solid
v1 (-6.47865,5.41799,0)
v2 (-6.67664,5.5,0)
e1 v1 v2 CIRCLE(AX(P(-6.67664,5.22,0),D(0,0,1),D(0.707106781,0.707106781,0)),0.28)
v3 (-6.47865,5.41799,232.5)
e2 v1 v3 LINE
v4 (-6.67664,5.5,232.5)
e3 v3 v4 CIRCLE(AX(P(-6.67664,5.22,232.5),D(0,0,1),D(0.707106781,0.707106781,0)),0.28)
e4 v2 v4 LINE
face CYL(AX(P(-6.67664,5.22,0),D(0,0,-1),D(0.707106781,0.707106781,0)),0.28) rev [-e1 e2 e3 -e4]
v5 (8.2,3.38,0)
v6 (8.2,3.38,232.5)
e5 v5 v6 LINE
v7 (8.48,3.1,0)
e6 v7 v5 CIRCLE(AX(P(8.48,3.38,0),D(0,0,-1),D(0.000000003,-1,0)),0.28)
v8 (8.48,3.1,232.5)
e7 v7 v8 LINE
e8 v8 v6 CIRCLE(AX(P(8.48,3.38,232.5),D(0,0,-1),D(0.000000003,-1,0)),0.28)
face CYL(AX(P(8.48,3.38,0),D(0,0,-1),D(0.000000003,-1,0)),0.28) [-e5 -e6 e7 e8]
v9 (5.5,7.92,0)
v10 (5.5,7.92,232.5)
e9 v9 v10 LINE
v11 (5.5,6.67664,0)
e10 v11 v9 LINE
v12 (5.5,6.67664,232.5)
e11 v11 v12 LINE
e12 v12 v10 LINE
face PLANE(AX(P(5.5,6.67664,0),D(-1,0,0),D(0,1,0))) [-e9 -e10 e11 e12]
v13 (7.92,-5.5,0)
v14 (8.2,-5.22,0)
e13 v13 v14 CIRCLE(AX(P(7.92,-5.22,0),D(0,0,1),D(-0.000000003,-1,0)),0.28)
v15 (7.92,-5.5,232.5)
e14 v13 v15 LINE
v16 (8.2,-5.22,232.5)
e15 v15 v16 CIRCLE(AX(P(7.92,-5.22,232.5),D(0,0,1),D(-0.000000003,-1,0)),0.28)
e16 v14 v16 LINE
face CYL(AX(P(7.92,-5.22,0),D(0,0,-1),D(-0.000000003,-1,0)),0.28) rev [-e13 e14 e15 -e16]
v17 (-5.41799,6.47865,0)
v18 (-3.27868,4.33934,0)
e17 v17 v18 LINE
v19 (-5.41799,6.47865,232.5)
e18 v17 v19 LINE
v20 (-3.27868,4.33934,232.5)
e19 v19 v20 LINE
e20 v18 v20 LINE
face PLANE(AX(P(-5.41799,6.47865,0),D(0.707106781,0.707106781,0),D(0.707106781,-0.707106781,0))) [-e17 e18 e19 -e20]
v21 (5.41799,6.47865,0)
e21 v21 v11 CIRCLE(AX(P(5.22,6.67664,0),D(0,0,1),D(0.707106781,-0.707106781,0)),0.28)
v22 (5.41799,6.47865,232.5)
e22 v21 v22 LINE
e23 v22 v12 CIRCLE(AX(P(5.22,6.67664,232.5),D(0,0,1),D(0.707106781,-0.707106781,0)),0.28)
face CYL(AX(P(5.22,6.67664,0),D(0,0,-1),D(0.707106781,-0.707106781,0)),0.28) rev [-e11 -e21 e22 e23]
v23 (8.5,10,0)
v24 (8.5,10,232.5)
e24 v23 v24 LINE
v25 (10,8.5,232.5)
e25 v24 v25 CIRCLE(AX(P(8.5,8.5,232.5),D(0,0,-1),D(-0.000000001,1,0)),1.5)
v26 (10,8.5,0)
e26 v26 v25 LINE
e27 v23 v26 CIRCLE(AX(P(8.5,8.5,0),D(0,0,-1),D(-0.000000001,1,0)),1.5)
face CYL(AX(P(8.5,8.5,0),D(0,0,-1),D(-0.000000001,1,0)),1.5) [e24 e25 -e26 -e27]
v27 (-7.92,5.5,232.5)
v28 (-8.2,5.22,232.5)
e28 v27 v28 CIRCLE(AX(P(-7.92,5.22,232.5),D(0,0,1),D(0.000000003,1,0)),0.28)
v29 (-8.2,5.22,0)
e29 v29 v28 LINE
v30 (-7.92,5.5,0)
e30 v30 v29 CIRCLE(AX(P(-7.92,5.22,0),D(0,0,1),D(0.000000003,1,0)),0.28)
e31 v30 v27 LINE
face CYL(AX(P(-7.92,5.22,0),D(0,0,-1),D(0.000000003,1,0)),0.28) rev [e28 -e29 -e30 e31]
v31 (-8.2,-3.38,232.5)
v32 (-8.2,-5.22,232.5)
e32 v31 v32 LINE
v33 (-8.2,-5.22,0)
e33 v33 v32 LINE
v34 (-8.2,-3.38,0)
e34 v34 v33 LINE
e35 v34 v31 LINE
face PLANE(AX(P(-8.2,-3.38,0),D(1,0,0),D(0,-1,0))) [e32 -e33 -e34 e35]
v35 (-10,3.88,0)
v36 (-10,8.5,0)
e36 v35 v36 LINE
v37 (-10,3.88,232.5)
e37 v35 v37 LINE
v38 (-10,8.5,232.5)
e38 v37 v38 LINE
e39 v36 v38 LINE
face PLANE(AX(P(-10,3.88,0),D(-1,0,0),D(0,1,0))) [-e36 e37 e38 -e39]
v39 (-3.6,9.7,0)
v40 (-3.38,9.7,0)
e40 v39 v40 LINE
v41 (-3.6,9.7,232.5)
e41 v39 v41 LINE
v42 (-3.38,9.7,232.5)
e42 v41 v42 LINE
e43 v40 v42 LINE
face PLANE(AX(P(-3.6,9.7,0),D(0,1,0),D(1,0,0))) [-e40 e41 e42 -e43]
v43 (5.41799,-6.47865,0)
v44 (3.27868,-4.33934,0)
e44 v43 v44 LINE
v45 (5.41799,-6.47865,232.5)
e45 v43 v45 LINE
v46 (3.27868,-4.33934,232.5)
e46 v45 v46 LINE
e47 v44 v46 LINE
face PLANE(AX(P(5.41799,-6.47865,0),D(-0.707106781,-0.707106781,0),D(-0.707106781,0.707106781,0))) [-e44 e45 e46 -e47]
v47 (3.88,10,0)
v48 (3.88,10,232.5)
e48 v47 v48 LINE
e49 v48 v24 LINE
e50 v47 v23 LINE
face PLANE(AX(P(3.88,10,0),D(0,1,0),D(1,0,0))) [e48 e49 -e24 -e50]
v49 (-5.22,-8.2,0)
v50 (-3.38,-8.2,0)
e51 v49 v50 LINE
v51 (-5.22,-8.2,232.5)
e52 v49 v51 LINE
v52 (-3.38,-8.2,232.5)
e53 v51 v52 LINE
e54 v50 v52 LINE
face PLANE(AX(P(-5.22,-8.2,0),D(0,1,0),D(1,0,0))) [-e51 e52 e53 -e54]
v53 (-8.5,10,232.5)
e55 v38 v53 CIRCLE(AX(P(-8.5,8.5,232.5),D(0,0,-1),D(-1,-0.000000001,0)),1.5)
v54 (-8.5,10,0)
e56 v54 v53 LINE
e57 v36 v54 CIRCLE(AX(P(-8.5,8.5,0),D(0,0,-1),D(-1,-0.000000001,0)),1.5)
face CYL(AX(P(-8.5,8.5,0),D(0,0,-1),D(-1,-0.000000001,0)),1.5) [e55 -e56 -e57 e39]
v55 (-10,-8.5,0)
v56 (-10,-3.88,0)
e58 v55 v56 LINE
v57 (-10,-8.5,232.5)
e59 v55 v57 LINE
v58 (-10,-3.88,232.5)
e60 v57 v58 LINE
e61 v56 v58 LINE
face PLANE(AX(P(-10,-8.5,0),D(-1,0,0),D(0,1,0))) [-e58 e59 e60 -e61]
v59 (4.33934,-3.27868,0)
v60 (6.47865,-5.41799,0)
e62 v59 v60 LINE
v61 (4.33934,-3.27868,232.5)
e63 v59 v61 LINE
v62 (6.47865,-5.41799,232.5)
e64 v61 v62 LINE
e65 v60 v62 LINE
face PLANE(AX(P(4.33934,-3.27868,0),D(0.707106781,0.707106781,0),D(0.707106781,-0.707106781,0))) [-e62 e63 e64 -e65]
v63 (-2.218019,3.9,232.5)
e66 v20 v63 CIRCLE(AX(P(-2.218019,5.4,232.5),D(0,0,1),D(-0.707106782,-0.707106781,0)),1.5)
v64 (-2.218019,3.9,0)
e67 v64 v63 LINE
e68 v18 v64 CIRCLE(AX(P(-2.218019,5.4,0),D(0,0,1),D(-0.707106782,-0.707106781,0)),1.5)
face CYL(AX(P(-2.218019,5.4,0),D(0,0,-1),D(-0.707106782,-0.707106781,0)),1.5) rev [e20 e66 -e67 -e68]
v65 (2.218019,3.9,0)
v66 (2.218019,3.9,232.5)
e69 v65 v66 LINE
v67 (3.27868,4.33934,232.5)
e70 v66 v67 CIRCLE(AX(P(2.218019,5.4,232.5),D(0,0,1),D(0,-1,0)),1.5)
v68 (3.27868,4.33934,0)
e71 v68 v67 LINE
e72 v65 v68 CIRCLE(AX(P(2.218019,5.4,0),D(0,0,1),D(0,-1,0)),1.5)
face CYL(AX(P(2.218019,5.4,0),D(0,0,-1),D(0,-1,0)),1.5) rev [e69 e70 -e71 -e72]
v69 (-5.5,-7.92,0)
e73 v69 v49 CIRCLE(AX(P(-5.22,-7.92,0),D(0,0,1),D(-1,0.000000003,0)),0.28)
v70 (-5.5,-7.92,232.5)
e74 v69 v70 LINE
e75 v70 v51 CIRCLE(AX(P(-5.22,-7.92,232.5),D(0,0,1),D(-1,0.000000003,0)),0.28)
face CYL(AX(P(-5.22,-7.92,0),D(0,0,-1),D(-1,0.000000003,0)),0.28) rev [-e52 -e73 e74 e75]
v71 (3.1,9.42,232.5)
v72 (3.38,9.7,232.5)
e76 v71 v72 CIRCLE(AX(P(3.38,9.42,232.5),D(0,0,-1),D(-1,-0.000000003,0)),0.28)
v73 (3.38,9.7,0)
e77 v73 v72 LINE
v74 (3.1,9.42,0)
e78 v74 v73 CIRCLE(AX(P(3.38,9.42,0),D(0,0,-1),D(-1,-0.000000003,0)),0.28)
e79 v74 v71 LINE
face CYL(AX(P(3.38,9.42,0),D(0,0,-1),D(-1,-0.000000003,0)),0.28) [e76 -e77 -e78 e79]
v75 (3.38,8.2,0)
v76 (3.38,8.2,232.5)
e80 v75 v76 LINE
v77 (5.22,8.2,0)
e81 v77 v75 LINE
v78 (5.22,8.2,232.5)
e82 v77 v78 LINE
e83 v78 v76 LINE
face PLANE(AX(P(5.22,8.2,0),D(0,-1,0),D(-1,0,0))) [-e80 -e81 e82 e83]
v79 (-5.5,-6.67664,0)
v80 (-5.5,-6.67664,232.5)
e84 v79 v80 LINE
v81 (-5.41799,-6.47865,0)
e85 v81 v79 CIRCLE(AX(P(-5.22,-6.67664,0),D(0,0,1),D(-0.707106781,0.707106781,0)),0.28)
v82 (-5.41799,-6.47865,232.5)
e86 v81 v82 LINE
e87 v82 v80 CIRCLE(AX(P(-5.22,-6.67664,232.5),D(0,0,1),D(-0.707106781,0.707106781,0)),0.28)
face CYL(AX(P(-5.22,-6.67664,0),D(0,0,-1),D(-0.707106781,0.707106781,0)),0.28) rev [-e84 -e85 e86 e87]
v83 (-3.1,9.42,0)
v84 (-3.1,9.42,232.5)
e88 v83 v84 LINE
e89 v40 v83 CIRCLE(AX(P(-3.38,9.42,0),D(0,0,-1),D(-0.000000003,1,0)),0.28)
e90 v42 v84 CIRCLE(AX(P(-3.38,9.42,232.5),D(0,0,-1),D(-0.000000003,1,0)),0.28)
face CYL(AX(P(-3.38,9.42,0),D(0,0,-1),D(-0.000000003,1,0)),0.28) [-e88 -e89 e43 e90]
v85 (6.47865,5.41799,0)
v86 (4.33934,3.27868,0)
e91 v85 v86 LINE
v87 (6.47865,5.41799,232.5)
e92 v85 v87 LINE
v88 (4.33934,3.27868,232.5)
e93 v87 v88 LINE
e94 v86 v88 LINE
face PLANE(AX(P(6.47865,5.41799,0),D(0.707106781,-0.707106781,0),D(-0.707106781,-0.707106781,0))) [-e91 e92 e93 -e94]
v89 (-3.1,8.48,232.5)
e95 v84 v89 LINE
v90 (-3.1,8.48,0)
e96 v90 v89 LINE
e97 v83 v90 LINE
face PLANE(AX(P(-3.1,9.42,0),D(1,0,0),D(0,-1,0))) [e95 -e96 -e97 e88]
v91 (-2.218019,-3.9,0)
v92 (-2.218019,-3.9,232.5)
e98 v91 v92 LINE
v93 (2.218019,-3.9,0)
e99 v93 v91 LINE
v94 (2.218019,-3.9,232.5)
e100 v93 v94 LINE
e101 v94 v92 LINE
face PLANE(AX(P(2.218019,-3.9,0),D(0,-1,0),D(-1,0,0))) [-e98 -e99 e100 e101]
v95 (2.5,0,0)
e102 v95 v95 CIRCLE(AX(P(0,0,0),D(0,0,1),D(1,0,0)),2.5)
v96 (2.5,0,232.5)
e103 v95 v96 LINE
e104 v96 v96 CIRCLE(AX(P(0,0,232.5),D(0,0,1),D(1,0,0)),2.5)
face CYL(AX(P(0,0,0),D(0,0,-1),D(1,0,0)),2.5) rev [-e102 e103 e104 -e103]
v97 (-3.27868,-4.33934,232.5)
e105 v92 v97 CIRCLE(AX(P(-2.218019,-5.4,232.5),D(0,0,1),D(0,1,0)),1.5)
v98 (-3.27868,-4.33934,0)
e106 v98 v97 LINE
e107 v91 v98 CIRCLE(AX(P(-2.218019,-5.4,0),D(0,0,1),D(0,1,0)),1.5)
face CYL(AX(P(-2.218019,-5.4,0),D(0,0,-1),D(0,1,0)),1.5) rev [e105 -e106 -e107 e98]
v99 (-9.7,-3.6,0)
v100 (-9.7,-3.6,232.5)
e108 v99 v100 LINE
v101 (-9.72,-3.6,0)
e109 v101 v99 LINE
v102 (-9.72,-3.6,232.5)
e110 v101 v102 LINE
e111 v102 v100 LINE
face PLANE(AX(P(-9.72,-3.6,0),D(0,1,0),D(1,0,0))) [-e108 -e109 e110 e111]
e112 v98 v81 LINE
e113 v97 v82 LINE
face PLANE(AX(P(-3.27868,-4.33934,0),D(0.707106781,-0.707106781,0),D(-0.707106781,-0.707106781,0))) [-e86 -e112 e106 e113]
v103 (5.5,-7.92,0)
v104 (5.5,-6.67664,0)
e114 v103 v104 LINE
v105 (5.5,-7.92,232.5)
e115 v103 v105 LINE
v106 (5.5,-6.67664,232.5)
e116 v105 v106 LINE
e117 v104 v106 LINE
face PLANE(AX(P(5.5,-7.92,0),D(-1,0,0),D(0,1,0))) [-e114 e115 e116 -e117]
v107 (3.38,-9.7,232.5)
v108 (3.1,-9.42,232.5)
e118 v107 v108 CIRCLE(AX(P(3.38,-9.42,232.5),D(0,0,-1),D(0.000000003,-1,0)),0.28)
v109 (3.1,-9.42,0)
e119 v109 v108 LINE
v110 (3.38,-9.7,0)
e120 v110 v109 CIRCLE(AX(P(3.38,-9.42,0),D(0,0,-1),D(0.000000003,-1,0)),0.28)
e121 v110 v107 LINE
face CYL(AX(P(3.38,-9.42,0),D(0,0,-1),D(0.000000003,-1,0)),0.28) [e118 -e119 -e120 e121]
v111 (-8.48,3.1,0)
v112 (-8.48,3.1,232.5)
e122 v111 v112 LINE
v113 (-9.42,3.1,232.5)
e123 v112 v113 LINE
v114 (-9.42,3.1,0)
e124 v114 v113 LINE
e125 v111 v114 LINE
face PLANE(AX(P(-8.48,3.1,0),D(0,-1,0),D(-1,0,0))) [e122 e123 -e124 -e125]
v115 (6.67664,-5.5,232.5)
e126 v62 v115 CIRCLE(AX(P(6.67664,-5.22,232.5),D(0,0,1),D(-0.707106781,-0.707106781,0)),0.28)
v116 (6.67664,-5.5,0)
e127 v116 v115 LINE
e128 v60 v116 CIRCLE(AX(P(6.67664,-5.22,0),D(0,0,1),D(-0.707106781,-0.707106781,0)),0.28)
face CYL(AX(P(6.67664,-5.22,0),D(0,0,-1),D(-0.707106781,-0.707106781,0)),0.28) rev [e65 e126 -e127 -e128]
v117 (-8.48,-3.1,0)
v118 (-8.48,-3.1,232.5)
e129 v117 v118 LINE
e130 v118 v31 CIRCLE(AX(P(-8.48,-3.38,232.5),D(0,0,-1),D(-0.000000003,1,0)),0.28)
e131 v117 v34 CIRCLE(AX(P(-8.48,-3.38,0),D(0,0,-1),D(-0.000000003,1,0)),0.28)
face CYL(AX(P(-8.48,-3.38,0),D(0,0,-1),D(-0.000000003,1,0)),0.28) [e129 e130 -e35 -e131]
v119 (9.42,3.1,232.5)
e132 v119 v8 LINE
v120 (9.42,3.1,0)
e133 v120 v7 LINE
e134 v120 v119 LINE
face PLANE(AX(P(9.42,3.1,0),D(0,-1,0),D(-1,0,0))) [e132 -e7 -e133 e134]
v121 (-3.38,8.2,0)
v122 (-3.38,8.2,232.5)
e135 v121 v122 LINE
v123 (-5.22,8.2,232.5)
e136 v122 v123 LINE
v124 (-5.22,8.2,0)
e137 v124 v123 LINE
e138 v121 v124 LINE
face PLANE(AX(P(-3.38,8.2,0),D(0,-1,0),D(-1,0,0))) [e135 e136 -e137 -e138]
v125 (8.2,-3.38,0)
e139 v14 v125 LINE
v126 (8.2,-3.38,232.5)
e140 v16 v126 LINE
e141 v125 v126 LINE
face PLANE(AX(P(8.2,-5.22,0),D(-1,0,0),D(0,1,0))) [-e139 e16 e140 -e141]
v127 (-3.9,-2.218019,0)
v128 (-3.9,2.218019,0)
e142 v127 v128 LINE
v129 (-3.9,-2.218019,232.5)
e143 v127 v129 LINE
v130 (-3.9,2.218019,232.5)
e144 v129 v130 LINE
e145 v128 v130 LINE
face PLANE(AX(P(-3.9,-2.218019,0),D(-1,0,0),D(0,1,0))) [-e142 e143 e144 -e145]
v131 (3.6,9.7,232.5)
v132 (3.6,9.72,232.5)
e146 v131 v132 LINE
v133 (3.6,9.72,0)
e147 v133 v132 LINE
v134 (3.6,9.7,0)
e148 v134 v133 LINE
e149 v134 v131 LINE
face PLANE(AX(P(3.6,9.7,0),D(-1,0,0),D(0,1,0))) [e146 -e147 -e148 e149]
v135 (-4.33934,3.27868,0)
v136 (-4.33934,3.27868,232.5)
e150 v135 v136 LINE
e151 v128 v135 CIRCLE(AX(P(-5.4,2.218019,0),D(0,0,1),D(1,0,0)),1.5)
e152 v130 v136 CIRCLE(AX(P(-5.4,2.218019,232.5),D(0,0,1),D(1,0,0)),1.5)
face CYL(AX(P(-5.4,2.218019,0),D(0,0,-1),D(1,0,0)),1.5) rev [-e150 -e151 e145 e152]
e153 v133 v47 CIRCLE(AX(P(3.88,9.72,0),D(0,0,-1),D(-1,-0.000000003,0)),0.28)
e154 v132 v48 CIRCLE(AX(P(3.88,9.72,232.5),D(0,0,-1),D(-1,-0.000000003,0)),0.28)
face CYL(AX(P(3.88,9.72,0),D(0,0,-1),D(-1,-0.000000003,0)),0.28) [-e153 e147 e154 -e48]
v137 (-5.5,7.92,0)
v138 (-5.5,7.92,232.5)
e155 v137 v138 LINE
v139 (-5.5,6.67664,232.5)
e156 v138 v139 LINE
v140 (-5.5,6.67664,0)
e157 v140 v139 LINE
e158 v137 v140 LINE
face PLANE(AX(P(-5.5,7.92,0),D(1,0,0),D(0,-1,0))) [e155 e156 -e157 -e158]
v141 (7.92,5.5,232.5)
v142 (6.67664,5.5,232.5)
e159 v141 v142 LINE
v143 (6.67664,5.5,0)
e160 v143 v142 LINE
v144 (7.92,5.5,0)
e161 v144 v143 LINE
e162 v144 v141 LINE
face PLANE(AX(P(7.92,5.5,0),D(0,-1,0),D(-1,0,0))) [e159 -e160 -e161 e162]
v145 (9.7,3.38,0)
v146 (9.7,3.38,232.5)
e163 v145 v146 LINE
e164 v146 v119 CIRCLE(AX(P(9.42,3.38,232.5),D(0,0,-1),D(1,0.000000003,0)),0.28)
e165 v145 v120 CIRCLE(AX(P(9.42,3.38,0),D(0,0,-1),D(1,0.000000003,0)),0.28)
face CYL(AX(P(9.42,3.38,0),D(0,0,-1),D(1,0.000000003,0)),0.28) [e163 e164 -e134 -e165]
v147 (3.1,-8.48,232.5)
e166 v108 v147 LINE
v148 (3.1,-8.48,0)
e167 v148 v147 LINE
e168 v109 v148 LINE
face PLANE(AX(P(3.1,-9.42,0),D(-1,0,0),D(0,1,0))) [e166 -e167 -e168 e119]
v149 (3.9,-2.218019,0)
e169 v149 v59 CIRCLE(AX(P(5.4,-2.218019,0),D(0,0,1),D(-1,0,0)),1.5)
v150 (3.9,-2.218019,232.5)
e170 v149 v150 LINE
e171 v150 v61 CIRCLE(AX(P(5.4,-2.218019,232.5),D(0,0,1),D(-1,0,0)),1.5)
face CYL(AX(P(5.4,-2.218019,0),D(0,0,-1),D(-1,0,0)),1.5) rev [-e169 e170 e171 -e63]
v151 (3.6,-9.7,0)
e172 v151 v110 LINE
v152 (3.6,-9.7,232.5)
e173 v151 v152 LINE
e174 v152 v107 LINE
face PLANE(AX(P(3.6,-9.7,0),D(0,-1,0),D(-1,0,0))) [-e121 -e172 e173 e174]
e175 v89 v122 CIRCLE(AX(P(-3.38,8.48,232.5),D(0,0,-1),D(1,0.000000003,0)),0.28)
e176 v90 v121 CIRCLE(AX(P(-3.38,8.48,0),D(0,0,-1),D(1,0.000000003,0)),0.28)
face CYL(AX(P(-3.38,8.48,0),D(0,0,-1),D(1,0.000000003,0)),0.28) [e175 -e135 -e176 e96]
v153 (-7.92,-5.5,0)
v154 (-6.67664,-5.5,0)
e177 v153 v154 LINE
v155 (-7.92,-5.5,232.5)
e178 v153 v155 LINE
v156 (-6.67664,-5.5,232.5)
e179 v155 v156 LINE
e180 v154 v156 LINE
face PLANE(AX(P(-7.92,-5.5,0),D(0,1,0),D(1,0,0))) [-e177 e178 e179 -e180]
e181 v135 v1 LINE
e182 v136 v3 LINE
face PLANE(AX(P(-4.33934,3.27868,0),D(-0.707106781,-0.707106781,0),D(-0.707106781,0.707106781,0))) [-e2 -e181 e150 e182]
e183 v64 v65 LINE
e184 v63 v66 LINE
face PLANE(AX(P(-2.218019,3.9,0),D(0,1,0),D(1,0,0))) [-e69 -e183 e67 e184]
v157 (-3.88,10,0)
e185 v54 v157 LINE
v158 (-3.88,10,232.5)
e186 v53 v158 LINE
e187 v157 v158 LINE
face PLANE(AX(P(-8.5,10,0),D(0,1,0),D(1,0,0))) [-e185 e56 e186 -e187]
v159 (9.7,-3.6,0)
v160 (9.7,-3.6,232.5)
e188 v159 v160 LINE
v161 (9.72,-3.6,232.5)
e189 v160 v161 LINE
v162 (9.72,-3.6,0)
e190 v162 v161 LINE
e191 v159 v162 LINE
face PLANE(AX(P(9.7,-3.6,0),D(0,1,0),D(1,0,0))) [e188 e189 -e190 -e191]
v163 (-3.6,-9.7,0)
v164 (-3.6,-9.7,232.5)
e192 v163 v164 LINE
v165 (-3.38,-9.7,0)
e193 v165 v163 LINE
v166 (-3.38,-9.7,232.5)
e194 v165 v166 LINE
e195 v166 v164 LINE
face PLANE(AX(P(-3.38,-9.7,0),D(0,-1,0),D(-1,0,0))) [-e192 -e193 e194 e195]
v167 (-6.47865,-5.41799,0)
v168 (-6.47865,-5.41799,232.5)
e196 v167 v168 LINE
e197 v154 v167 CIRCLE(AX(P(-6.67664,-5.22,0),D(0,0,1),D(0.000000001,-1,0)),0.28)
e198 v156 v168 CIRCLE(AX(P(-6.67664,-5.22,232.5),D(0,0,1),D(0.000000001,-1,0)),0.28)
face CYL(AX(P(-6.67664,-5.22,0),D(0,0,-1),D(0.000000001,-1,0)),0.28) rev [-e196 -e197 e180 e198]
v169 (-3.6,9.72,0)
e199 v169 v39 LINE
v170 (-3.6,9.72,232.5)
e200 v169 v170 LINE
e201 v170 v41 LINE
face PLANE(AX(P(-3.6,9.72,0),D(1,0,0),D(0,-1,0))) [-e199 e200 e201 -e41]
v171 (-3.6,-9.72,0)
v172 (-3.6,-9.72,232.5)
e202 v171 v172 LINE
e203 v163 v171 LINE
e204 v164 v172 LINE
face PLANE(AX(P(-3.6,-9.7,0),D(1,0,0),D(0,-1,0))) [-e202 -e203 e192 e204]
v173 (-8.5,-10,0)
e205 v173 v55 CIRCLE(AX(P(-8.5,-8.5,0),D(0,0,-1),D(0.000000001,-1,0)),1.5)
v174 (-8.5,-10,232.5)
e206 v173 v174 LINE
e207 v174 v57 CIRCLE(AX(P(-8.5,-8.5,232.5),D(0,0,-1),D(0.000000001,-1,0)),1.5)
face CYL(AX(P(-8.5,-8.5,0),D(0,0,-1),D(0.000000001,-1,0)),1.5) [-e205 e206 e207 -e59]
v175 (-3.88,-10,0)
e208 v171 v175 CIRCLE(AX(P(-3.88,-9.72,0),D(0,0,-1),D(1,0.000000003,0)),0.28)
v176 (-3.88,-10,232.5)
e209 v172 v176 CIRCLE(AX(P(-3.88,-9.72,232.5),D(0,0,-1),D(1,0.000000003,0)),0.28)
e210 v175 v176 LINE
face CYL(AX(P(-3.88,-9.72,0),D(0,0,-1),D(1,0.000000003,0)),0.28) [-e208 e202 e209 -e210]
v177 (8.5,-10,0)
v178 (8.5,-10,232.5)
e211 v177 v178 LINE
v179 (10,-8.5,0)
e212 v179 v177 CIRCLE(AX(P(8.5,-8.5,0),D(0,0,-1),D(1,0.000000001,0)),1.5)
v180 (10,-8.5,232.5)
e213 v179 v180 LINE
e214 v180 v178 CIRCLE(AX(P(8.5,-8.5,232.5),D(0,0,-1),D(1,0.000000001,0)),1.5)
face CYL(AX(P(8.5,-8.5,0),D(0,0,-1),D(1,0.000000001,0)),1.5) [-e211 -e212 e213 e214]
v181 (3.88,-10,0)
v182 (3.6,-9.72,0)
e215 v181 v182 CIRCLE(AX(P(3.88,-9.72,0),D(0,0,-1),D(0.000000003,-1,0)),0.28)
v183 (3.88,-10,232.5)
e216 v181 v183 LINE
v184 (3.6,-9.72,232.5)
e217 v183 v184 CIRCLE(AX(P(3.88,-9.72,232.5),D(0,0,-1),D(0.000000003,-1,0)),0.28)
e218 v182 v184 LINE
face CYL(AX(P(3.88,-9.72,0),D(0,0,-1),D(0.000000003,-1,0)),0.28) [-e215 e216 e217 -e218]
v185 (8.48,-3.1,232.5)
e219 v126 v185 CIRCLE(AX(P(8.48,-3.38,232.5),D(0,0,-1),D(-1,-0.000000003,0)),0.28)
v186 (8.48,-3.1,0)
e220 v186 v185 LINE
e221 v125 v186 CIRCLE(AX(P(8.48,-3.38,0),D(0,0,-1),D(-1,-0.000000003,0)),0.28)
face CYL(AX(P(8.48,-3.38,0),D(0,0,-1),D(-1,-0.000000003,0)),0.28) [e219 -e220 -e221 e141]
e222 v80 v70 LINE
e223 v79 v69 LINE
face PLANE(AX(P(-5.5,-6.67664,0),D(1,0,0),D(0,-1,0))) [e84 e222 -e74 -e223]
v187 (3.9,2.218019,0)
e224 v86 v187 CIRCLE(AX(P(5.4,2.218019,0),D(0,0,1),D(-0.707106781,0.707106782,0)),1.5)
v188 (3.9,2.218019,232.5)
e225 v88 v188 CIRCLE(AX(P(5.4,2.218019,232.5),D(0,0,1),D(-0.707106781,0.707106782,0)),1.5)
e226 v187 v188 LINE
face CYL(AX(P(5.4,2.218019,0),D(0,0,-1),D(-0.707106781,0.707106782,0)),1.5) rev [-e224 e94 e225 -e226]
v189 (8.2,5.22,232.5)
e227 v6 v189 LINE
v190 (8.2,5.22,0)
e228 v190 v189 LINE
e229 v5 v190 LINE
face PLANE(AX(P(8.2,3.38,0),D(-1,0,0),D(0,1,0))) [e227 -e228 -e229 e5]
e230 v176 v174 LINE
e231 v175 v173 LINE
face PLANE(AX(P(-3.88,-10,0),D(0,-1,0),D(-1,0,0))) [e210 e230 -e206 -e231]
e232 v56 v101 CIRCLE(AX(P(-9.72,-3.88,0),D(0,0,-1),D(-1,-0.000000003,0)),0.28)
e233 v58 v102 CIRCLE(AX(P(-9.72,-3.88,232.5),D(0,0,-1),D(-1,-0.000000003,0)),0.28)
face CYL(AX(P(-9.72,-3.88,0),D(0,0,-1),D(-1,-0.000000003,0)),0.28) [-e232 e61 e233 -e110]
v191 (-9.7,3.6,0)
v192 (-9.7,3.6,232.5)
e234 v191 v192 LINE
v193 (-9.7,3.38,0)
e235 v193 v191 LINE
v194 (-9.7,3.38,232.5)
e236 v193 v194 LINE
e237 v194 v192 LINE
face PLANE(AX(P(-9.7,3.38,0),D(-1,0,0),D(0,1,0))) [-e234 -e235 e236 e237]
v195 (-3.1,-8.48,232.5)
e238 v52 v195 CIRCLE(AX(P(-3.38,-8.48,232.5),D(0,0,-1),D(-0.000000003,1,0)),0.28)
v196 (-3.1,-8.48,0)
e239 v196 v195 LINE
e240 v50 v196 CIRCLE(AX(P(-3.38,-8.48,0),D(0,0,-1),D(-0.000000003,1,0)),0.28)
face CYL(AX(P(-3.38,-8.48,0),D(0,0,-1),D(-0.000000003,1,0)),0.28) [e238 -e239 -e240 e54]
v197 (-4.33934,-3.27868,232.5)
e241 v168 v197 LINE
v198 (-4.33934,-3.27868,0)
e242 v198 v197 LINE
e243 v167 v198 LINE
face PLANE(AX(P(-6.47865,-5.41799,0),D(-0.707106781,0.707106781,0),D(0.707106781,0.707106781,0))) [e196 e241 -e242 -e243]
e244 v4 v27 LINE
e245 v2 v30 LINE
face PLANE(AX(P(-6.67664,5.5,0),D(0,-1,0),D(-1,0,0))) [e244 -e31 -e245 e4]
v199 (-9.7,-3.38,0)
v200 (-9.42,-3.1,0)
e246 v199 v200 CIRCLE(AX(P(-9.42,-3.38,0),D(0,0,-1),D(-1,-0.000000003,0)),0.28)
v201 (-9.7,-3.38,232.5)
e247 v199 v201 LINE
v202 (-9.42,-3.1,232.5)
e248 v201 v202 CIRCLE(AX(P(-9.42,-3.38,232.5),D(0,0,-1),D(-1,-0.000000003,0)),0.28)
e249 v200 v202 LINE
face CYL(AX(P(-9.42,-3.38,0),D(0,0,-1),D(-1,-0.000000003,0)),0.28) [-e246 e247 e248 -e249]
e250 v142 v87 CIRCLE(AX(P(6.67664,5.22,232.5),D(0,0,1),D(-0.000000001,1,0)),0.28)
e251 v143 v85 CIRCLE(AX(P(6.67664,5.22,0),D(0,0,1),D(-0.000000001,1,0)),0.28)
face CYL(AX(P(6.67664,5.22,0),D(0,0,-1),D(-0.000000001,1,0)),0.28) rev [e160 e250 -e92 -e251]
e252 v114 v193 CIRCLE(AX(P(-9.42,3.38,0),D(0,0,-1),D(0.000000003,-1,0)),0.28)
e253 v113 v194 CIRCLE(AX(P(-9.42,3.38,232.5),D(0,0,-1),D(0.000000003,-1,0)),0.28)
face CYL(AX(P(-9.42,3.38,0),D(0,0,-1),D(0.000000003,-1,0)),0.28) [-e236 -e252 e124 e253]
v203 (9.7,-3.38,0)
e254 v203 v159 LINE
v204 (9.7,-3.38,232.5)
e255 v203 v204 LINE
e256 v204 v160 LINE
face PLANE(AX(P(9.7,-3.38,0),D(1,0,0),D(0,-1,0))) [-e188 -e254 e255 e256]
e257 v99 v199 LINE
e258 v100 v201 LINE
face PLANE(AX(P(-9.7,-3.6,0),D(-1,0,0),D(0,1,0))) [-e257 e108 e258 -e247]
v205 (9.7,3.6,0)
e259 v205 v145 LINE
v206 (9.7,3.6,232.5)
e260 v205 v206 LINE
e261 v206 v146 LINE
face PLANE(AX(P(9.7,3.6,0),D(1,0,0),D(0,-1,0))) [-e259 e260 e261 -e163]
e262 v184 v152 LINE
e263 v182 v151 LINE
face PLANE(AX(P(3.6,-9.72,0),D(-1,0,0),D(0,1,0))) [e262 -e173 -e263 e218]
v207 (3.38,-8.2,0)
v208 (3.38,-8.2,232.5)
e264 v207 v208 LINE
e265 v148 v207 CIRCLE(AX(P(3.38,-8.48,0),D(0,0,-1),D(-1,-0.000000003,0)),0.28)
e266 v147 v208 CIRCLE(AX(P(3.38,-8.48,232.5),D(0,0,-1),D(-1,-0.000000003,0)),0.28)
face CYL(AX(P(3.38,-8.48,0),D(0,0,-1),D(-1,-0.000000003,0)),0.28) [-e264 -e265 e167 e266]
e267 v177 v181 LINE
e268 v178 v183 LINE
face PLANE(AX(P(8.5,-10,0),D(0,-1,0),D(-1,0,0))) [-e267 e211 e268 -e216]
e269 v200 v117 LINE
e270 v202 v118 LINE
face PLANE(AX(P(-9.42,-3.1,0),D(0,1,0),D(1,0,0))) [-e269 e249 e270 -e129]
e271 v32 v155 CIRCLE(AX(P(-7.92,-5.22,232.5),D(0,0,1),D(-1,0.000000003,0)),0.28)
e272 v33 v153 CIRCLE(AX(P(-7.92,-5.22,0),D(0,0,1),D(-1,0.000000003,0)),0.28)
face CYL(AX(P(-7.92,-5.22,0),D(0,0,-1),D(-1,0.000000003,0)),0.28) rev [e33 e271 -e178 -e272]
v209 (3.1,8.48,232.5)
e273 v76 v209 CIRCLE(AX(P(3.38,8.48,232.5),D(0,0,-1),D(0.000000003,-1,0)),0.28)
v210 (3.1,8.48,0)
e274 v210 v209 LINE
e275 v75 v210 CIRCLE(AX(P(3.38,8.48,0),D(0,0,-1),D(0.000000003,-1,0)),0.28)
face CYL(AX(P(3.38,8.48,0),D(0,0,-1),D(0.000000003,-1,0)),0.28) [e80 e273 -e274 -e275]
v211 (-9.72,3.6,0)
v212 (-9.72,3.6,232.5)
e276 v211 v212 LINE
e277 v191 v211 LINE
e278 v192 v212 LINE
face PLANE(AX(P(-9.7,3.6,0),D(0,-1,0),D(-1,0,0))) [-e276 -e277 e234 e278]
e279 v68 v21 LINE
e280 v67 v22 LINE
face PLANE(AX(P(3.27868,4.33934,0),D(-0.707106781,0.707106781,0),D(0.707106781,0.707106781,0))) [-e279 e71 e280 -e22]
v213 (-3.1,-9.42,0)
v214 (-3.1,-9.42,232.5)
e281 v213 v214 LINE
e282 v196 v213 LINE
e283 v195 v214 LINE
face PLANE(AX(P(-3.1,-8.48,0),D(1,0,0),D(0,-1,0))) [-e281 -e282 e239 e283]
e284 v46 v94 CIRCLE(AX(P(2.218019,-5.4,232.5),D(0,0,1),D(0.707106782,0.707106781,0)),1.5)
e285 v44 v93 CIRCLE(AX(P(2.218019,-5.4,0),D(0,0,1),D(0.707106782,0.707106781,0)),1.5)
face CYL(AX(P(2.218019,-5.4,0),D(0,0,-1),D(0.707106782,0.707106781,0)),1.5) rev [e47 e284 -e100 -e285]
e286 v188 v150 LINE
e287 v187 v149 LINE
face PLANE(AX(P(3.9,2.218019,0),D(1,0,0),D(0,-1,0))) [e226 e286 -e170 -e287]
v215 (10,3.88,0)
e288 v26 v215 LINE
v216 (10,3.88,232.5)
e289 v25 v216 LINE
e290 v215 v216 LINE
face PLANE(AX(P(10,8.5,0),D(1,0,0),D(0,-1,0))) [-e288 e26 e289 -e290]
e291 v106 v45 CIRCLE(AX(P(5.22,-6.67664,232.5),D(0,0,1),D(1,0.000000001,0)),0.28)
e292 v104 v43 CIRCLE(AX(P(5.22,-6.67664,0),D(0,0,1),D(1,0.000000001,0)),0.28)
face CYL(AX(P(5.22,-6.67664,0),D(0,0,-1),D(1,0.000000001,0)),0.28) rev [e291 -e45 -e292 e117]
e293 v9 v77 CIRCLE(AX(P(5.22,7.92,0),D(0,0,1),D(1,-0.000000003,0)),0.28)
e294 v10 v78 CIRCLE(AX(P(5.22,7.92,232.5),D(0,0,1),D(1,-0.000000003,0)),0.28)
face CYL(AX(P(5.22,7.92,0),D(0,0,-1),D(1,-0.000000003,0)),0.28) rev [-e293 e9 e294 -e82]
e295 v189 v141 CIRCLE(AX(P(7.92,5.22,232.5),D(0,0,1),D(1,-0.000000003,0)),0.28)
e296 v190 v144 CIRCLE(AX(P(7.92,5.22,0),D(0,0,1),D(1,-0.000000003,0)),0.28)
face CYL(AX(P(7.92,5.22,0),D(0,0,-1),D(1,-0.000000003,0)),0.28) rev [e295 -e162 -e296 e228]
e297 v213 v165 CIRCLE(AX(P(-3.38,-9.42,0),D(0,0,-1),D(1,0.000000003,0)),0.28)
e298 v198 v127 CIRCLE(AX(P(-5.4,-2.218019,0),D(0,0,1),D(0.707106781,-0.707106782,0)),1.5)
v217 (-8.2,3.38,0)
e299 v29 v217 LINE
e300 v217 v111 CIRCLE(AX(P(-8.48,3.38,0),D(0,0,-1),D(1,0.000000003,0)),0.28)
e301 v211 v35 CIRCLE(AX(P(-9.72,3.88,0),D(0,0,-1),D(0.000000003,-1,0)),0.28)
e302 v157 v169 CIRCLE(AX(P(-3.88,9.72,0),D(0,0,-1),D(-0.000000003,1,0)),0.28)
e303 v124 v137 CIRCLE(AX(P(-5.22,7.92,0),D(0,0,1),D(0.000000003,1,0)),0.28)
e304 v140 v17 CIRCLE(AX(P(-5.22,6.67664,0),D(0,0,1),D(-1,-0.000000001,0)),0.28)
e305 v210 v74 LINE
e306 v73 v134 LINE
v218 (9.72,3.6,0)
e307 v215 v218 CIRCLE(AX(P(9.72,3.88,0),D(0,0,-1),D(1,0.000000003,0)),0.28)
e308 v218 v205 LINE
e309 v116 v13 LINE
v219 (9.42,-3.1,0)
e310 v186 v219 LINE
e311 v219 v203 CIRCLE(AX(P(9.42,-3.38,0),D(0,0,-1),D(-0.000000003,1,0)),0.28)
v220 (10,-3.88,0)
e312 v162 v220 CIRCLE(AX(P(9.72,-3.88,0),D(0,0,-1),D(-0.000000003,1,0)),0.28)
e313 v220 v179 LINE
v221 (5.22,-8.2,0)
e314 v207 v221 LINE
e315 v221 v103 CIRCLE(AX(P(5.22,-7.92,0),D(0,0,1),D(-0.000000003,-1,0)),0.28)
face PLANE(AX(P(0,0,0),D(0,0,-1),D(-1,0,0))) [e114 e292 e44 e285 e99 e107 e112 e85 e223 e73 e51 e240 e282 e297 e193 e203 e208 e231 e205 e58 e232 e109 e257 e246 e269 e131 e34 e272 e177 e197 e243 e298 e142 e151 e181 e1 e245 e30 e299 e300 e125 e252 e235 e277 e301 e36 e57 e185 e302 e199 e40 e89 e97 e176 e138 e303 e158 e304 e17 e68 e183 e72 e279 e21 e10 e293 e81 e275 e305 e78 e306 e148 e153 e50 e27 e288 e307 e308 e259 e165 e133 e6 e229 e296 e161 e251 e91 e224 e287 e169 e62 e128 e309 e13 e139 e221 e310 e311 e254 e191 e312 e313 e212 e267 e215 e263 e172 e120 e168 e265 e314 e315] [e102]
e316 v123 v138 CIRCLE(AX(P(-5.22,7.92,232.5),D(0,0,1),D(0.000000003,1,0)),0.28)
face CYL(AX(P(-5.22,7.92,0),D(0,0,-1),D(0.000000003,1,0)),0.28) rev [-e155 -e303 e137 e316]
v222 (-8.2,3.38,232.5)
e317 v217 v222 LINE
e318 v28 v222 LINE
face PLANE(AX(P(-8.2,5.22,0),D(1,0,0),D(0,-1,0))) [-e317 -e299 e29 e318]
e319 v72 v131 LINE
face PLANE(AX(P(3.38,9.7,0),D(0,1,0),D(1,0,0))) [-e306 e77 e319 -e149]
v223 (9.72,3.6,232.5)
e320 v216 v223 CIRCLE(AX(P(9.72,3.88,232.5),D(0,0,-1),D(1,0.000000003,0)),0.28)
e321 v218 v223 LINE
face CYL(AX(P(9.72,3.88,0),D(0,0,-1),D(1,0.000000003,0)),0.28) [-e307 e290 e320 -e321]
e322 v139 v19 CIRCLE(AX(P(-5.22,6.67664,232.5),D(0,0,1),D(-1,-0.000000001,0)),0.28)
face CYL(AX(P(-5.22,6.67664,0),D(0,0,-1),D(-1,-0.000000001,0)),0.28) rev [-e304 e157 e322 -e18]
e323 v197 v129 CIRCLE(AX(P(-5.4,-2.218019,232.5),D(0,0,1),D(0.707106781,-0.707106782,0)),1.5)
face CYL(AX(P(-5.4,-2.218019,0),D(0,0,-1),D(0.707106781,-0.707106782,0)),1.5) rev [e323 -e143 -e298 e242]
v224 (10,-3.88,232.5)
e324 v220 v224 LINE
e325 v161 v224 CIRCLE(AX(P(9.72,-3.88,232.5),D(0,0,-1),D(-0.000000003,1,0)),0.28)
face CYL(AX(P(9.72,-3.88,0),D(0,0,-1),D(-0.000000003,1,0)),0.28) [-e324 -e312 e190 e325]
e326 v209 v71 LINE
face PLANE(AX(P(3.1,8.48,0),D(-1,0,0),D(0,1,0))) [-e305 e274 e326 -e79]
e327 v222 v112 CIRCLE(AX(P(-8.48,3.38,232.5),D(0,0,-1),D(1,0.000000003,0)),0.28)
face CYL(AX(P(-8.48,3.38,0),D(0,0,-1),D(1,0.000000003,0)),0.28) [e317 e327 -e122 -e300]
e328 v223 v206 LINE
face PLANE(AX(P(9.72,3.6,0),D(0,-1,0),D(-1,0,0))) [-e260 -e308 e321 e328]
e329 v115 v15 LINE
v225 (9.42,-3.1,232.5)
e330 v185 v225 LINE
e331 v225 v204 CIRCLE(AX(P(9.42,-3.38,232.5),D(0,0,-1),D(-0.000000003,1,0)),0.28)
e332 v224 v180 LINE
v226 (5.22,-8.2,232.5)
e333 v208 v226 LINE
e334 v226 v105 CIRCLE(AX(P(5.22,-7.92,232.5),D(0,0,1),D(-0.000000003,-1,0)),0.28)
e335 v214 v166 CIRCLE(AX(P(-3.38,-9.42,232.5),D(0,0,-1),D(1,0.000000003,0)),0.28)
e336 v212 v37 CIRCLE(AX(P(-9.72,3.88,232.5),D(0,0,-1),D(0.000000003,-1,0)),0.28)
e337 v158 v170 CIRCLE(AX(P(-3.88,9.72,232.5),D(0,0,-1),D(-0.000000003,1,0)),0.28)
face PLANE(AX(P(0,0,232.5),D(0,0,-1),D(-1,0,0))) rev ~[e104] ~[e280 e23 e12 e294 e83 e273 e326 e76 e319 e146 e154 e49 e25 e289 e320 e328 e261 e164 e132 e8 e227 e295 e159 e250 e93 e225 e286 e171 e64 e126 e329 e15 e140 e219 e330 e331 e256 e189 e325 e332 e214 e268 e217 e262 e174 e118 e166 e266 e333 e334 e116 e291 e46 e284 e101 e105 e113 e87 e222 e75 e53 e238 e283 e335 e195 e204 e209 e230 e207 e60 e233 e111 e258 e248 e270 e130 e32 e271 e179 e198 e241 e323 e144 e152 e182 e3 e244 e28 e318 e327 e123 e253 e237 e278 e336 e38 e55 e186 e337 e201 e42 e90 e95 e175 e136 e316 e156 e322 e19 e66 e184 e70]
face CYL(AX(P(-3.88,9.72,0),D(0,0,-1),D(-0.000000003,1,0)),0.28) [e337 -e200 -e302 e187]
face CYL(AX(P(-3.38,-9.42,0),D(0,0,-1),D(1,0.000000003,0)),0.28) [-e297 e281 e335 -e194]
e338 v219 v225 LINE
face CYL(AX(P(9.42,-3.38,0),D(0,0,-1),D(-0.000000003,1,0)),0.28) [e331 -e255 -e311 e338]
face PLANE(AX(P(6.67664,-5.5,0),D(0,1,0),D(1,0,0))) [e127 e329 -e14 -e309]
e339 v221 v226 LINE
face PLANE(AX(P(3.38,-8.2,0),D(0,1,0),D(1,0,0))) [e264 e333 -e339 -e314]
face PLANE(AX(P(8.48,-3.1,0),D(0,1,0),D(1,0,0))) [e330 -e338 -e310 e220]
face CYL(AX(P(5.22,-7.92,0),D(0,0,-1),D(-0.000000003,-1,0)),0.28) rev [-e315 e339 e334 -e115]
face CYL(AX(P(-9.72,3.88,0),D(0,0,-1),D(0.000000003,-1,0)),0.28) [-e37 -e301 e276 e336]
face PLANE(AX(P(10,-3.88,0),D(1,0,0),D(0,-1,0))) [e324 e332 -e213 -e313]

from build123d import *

# Parameters (mm, degrees)
CROQUIS3_R                = 2.5
PG20_T_SLOT_20X20_1_DEPTH = 232.5


with BuildPart() as part:
    # Croquis3 → Pg20_t_slot 20X20(1) (new body)
    with BuildSketch(Plane.XY):
        with BuildLine():
            Line((-2.218019485, 3.9), (2.218019485, 3.9))
            ThreePointArc((2.218019485, 3.9), (2.792044633, 4.014180701), (3.278679656, 4.339339828))
            Line((3.278679656, 4.339339828), (5.417989899, 6.478650071))
            ThreePointArc((5.417989899, 6.478650071), (5.478686269, 6.569488608), (5.5, 6.676639969))
            Line((5.5, 6.676639969), (5.5, 7.92))
            ThreePointArc((5.5, 7.92), (5.417989899, 8.117989899), (5.22, 8.2))
            Line((5.22, 8.2), (3.38, 8.2))
            ThreePointArc((3.38, 8.2), (3.182010101, 8.282010101), (3.1, 8.48))
            Line((3.1, 8.48), (3.1, 9.42))
            ThreePointArc((3.1, 9.42), (3.182010101, 9.617989899), (3.38, 9.7))
            Line((3.38, 9.7), (3.6, 9.7))
            Line((3.6, 9.7), (3.6, 9.72))
            ThreePointArc((3.6, 9.72), (3.682010101, 9.917989899), (3.88, 10))
            Line((3.88, 10), (8.5, 10))
            ThreePointArc((8.5, 10), (9.560660172, 9.560660172), (10, 8.5))
            Line((10, 8.5), (10, 3.88))
            ThreePointArc((10, 3.88), (9.917989899, 3.682010101), (9.72, 3.6))
            Line((9.72, 3.6), (9.7, 3.6))
            Line((9.7, 3.6), (9.7, 3.38))
            ThreePointArc((9.7, 3.38), (9.617989899, 3.182010101), (9.42, 3.1))
            Line((9.42, 3.1), (8.48, 3.1))
            ThreePointArc((8.48, 3.1), (8.282010101, 3.182010101), (8.2, 3.38))
            Line((8.2, 3.38), (8.2, 5.22))
            ThreePointArc((8.2, 5.22), (8.117989899, 5.417989899), (7.92, 5.5))
            Line((7.92, 5.5), (6.676639969, 5.5))
            ThreePointArc((6.676639969, 5.5), (6.569488608, 5.478686269), (6.478650071, 5.417989899))
            Line((6.478650071, 5.417989899), (4.339339828, 3.278679656))
            ThreePointArc((4.339339828, 3.278679656), (4.014180701, 2.792044633), (3.9, 2.218019485))
            Line((3.9, 2.218019485), (3.9, -2.218019485))
            ThreePointArc((3.9, -2.218019485), (4.014180701, -2.792044633), (4.339339828, -3.278679656))
            Line((4.339339828, -3.278679656), (6.478650071, -5.417989899))
            ThreePointArc((6.478650071, -5.417989899), (6.569488608, -5.478686269), (6.676639969, -5.5))
            Line((6.676639969, -5.5), (7.92, -5.5))
            ThreePointArc((7.92, -5.5), (8.117989899, -5.417989899), (8.2, -5.22))
            Line((8.2, -5.22), (8.2, -3.38))
            ThreePointArc((8.2, -3.38), (8.282010101, -3.182010101), (8.48, -3.1))
            Line((8.48, -3.1), (9.42, -3.1))
            ThreePointArc((9.42, -3.1), (9.617989899, -3.182010101), (9.7, -3.38))
            Line((9.7, -3.38), (9.7, -3.6))
            Line((9.7, -3.6), (9.72, -3.6))
            ThreePointArc((9.72, -3.6), (9.917989899, -3.682010101), (10, -3.88))
            Line((10, -3.88), (10, -8.5))
            ThreePointArc((10, -8.5), (9.560660172, -9.560660172), (8.5, -10))
            Line((8.5, -10), (3.88, -10))
            ThreePointArc((3.88, -10), (3.682010101, -9.917989899), (3.6, -9.72))
            Line((3.6, -9.72), (3.6, -9.7))
            Line((3.6, -9.7), (3.38, -9.7))
            ThreePointArc((3.38, -9.7), (3.182010101, -9.617989899), (3.1, -9.42))
            Line((3.1, -9.42), (3.1, -8.48))
            ThreePointArc((3.1, -8.48), (3.182010101, -8.282010101), (3.38, -8.2))
            Line((3.38, -8.2), (5.22, -8.2))
            ThreePointArc((5.22, -8.2), (5.417989899, -8.117989899), (5.5, -7.92))
            Line((5.5, -7.92), (5.5, -6.676639969))
            ThreePointArc((5.5, -6.676639969), (5.478686269, -6.569488608), (5.417989899, -6.478650071))
            Line((5.417989899, -6.478650071), (3.278679656, -4.339339828))
            ThreePointArc((3.278679656, -4.339339828), (2.792044633, -4.014180701), (2.218019485, -3.9))
            Line((2.218019485, -3.9), (-2.218019485, -3.9))
            ThreePointArc((-2.218019485, -3.9), (-2.792044633, -4.014180701), (-3.278679656, -4.339339828))
            Line((-3.278679656, -4.339339828), (-5.417989899, -6.478650071))
            ThreePointArc((-5.417989899, -6.478650071), (-5.478686269, -6.569488608), (-5.5, -6.676639969))
            Line((-5.5, -6.676639969), (-5.5, -7.92))
            ThreePointArc((-5.5, -7.92), (-5.417989899, -8.117989899), (-5.22, -8.2))
            Line((-5.22, -8.2), (-3.38, -8.2))
            ThreePointArc((-3.38, -8.2), (-3.182010101, -8.282010101), (-3.1, -8.48))
            Line((-3.1, -8.48), (-3.1, -9.42))
            ThreePointArc((-3.1, -9.42), (-3.182010101, -9.617989899), (-3.38, -9.7))
            Line((-3.38, -9.7), (-3.6, -9.7))
            Line((-3.6, -9.7), (-3.6, -9.72))
            ThreePointArc((-3.6, -9.72), (-3.682010101, -9.917989899), (-3.88, -10))
            Line((-3.88, -10), (-8.5, -10))
            ThreePointArc((-8.5, -10), (-9.560660172, -9.560660172), (-10, -8.5))
            Line((-10, -8.5), (-10, -3.88))
            ThreePointArc((-10, -3.88), (-9.917989899, -3.682010101), (-9.72, -3.6))
            Line((-9.72, -3.6), (-9.7, -3.6))
            Line((-9.7, -3.6), (-9.7, -3.38))
            ThreePointArc((-9.7, -3.38), (-9.617989899, -3.182010101), (-9.42, -3.1))
            Line((-9.42, -3.1), (-8.48, -3.1))
            ThreePointArc((-8.48, -3.1), (-8.282010101, -3.182010101), (-8.2, -3.38))
            Line((-8.2, -3.38), (-8.2, -5.22))
            ThreePointArc((-8.2, -5.22), (-8.117989899, -5.417989899), (-7.92, -5.5))
            Line((-7.92, -5.5), (-6.676639969, -5.5))
            ThreePointArc((-6.676639969, -5.5), (-6.569488608, -5.478686269), (-6.478650071, -5.417989899))
            Line((-6.478650071, -5.417989899), (-4.339339828, -3.278679656))
            ThreePointArc((-4.339339828, -3.278679656), (-4.014180701, -2.792044633), (-3.9, -2.218019485))
            Line((-3.9, -2.218019485), (-3.9, 2.218019485))
            ThreePointArc((-3.9, 2.218019485), (-4.014180701, 2.792044633), (-4.339339828, 3.278679656))
            Line((-4.339339828, 3.278679656), (-6.478650071, 5.417989899))
            ThreePointArc((-6.478650071, 5.417989899), (-6.569488608, 5.478686269), (-6.676639969, 5.5))
            Line((-6.676639969, 5.5), (-7.92, 5.5))
            ThreePointArc((-7.92, 5.5), (-8.117989899, 5.417989899), (-8.2, 5.22))
            Line((-8.2, 5.22), (-8.2, 3.38))
            ThreePointArc((-8.2, 3.38), (-8.282010101, 3.182010101), (-8.48, 3.1))
            Line((-8.48, 3.1), (-9.42, 3.1))
            ThreePointArc((-9.42, 3.1), (-9.617989899, 3.182010101), (-9.7, 3.38))
            Line((-9.7, 3.38), (-9.7, 3.6))
            Line((-9.7, 3.6), (-9.72, 3.6))
            ThreePointArc((-9.72, 3.6), (-9.917989899, 3.682010101), (-10, 3.88))
            Line((-10, 3.88), (-10, 8.5))
            ThreePointArc((-10, 8.5), (-9.560660172, 9.560660172), (-8.5, 10))
            Line((-8.5, 10), (-3.88, 10))
            ThreePointArc((-3.88, 10), (-3.682010101, 9.917989899), (-3.6, 9.72))
            Line((-3.6, 9.72), (-3.6, 9.7))
            Line((-3.6, 9.7), (-3.38, 9.7))
            ThreePointArc((-3.38, 9.7), (-3.182010101, 9.617989899), (-3.1, 9.42))
            Line((-3.1, 9.42), (-3.1, 8.48))
            ThreePointArc((-3.1, 8.48), (-3.182010101, 8.282010101), (-3.38, 8.2))
            Line((-3.38, 8.2), (-5.22, 8.2))
            ThreePointArc((-5.22, 8.2), (-5.417989899, 8.117989899), (-5.5, 7.92))
            Line((-5.5, 7.92), (-5.5, 6.676639969))
            ThreePointArc((-5.5, 6.676639969), (-5.478686269, 6.569488608), (-5.417989899, 6.478650071))
            Line((-5.417989899, 6.478650071), (-3.278679656, 4.339339828))
            ThreePointArc((-3.278679656, 4.339339828), (-2.792044633, 4.014180701), (-2.218019485, 3.9))
        make_face()
        Circle(CROQUIS3_R, mode=Mode.SUBTRACT)
    extrude(amount=PG20_T_SLOT_20X20_1_DEPTH)


solid = part.part
